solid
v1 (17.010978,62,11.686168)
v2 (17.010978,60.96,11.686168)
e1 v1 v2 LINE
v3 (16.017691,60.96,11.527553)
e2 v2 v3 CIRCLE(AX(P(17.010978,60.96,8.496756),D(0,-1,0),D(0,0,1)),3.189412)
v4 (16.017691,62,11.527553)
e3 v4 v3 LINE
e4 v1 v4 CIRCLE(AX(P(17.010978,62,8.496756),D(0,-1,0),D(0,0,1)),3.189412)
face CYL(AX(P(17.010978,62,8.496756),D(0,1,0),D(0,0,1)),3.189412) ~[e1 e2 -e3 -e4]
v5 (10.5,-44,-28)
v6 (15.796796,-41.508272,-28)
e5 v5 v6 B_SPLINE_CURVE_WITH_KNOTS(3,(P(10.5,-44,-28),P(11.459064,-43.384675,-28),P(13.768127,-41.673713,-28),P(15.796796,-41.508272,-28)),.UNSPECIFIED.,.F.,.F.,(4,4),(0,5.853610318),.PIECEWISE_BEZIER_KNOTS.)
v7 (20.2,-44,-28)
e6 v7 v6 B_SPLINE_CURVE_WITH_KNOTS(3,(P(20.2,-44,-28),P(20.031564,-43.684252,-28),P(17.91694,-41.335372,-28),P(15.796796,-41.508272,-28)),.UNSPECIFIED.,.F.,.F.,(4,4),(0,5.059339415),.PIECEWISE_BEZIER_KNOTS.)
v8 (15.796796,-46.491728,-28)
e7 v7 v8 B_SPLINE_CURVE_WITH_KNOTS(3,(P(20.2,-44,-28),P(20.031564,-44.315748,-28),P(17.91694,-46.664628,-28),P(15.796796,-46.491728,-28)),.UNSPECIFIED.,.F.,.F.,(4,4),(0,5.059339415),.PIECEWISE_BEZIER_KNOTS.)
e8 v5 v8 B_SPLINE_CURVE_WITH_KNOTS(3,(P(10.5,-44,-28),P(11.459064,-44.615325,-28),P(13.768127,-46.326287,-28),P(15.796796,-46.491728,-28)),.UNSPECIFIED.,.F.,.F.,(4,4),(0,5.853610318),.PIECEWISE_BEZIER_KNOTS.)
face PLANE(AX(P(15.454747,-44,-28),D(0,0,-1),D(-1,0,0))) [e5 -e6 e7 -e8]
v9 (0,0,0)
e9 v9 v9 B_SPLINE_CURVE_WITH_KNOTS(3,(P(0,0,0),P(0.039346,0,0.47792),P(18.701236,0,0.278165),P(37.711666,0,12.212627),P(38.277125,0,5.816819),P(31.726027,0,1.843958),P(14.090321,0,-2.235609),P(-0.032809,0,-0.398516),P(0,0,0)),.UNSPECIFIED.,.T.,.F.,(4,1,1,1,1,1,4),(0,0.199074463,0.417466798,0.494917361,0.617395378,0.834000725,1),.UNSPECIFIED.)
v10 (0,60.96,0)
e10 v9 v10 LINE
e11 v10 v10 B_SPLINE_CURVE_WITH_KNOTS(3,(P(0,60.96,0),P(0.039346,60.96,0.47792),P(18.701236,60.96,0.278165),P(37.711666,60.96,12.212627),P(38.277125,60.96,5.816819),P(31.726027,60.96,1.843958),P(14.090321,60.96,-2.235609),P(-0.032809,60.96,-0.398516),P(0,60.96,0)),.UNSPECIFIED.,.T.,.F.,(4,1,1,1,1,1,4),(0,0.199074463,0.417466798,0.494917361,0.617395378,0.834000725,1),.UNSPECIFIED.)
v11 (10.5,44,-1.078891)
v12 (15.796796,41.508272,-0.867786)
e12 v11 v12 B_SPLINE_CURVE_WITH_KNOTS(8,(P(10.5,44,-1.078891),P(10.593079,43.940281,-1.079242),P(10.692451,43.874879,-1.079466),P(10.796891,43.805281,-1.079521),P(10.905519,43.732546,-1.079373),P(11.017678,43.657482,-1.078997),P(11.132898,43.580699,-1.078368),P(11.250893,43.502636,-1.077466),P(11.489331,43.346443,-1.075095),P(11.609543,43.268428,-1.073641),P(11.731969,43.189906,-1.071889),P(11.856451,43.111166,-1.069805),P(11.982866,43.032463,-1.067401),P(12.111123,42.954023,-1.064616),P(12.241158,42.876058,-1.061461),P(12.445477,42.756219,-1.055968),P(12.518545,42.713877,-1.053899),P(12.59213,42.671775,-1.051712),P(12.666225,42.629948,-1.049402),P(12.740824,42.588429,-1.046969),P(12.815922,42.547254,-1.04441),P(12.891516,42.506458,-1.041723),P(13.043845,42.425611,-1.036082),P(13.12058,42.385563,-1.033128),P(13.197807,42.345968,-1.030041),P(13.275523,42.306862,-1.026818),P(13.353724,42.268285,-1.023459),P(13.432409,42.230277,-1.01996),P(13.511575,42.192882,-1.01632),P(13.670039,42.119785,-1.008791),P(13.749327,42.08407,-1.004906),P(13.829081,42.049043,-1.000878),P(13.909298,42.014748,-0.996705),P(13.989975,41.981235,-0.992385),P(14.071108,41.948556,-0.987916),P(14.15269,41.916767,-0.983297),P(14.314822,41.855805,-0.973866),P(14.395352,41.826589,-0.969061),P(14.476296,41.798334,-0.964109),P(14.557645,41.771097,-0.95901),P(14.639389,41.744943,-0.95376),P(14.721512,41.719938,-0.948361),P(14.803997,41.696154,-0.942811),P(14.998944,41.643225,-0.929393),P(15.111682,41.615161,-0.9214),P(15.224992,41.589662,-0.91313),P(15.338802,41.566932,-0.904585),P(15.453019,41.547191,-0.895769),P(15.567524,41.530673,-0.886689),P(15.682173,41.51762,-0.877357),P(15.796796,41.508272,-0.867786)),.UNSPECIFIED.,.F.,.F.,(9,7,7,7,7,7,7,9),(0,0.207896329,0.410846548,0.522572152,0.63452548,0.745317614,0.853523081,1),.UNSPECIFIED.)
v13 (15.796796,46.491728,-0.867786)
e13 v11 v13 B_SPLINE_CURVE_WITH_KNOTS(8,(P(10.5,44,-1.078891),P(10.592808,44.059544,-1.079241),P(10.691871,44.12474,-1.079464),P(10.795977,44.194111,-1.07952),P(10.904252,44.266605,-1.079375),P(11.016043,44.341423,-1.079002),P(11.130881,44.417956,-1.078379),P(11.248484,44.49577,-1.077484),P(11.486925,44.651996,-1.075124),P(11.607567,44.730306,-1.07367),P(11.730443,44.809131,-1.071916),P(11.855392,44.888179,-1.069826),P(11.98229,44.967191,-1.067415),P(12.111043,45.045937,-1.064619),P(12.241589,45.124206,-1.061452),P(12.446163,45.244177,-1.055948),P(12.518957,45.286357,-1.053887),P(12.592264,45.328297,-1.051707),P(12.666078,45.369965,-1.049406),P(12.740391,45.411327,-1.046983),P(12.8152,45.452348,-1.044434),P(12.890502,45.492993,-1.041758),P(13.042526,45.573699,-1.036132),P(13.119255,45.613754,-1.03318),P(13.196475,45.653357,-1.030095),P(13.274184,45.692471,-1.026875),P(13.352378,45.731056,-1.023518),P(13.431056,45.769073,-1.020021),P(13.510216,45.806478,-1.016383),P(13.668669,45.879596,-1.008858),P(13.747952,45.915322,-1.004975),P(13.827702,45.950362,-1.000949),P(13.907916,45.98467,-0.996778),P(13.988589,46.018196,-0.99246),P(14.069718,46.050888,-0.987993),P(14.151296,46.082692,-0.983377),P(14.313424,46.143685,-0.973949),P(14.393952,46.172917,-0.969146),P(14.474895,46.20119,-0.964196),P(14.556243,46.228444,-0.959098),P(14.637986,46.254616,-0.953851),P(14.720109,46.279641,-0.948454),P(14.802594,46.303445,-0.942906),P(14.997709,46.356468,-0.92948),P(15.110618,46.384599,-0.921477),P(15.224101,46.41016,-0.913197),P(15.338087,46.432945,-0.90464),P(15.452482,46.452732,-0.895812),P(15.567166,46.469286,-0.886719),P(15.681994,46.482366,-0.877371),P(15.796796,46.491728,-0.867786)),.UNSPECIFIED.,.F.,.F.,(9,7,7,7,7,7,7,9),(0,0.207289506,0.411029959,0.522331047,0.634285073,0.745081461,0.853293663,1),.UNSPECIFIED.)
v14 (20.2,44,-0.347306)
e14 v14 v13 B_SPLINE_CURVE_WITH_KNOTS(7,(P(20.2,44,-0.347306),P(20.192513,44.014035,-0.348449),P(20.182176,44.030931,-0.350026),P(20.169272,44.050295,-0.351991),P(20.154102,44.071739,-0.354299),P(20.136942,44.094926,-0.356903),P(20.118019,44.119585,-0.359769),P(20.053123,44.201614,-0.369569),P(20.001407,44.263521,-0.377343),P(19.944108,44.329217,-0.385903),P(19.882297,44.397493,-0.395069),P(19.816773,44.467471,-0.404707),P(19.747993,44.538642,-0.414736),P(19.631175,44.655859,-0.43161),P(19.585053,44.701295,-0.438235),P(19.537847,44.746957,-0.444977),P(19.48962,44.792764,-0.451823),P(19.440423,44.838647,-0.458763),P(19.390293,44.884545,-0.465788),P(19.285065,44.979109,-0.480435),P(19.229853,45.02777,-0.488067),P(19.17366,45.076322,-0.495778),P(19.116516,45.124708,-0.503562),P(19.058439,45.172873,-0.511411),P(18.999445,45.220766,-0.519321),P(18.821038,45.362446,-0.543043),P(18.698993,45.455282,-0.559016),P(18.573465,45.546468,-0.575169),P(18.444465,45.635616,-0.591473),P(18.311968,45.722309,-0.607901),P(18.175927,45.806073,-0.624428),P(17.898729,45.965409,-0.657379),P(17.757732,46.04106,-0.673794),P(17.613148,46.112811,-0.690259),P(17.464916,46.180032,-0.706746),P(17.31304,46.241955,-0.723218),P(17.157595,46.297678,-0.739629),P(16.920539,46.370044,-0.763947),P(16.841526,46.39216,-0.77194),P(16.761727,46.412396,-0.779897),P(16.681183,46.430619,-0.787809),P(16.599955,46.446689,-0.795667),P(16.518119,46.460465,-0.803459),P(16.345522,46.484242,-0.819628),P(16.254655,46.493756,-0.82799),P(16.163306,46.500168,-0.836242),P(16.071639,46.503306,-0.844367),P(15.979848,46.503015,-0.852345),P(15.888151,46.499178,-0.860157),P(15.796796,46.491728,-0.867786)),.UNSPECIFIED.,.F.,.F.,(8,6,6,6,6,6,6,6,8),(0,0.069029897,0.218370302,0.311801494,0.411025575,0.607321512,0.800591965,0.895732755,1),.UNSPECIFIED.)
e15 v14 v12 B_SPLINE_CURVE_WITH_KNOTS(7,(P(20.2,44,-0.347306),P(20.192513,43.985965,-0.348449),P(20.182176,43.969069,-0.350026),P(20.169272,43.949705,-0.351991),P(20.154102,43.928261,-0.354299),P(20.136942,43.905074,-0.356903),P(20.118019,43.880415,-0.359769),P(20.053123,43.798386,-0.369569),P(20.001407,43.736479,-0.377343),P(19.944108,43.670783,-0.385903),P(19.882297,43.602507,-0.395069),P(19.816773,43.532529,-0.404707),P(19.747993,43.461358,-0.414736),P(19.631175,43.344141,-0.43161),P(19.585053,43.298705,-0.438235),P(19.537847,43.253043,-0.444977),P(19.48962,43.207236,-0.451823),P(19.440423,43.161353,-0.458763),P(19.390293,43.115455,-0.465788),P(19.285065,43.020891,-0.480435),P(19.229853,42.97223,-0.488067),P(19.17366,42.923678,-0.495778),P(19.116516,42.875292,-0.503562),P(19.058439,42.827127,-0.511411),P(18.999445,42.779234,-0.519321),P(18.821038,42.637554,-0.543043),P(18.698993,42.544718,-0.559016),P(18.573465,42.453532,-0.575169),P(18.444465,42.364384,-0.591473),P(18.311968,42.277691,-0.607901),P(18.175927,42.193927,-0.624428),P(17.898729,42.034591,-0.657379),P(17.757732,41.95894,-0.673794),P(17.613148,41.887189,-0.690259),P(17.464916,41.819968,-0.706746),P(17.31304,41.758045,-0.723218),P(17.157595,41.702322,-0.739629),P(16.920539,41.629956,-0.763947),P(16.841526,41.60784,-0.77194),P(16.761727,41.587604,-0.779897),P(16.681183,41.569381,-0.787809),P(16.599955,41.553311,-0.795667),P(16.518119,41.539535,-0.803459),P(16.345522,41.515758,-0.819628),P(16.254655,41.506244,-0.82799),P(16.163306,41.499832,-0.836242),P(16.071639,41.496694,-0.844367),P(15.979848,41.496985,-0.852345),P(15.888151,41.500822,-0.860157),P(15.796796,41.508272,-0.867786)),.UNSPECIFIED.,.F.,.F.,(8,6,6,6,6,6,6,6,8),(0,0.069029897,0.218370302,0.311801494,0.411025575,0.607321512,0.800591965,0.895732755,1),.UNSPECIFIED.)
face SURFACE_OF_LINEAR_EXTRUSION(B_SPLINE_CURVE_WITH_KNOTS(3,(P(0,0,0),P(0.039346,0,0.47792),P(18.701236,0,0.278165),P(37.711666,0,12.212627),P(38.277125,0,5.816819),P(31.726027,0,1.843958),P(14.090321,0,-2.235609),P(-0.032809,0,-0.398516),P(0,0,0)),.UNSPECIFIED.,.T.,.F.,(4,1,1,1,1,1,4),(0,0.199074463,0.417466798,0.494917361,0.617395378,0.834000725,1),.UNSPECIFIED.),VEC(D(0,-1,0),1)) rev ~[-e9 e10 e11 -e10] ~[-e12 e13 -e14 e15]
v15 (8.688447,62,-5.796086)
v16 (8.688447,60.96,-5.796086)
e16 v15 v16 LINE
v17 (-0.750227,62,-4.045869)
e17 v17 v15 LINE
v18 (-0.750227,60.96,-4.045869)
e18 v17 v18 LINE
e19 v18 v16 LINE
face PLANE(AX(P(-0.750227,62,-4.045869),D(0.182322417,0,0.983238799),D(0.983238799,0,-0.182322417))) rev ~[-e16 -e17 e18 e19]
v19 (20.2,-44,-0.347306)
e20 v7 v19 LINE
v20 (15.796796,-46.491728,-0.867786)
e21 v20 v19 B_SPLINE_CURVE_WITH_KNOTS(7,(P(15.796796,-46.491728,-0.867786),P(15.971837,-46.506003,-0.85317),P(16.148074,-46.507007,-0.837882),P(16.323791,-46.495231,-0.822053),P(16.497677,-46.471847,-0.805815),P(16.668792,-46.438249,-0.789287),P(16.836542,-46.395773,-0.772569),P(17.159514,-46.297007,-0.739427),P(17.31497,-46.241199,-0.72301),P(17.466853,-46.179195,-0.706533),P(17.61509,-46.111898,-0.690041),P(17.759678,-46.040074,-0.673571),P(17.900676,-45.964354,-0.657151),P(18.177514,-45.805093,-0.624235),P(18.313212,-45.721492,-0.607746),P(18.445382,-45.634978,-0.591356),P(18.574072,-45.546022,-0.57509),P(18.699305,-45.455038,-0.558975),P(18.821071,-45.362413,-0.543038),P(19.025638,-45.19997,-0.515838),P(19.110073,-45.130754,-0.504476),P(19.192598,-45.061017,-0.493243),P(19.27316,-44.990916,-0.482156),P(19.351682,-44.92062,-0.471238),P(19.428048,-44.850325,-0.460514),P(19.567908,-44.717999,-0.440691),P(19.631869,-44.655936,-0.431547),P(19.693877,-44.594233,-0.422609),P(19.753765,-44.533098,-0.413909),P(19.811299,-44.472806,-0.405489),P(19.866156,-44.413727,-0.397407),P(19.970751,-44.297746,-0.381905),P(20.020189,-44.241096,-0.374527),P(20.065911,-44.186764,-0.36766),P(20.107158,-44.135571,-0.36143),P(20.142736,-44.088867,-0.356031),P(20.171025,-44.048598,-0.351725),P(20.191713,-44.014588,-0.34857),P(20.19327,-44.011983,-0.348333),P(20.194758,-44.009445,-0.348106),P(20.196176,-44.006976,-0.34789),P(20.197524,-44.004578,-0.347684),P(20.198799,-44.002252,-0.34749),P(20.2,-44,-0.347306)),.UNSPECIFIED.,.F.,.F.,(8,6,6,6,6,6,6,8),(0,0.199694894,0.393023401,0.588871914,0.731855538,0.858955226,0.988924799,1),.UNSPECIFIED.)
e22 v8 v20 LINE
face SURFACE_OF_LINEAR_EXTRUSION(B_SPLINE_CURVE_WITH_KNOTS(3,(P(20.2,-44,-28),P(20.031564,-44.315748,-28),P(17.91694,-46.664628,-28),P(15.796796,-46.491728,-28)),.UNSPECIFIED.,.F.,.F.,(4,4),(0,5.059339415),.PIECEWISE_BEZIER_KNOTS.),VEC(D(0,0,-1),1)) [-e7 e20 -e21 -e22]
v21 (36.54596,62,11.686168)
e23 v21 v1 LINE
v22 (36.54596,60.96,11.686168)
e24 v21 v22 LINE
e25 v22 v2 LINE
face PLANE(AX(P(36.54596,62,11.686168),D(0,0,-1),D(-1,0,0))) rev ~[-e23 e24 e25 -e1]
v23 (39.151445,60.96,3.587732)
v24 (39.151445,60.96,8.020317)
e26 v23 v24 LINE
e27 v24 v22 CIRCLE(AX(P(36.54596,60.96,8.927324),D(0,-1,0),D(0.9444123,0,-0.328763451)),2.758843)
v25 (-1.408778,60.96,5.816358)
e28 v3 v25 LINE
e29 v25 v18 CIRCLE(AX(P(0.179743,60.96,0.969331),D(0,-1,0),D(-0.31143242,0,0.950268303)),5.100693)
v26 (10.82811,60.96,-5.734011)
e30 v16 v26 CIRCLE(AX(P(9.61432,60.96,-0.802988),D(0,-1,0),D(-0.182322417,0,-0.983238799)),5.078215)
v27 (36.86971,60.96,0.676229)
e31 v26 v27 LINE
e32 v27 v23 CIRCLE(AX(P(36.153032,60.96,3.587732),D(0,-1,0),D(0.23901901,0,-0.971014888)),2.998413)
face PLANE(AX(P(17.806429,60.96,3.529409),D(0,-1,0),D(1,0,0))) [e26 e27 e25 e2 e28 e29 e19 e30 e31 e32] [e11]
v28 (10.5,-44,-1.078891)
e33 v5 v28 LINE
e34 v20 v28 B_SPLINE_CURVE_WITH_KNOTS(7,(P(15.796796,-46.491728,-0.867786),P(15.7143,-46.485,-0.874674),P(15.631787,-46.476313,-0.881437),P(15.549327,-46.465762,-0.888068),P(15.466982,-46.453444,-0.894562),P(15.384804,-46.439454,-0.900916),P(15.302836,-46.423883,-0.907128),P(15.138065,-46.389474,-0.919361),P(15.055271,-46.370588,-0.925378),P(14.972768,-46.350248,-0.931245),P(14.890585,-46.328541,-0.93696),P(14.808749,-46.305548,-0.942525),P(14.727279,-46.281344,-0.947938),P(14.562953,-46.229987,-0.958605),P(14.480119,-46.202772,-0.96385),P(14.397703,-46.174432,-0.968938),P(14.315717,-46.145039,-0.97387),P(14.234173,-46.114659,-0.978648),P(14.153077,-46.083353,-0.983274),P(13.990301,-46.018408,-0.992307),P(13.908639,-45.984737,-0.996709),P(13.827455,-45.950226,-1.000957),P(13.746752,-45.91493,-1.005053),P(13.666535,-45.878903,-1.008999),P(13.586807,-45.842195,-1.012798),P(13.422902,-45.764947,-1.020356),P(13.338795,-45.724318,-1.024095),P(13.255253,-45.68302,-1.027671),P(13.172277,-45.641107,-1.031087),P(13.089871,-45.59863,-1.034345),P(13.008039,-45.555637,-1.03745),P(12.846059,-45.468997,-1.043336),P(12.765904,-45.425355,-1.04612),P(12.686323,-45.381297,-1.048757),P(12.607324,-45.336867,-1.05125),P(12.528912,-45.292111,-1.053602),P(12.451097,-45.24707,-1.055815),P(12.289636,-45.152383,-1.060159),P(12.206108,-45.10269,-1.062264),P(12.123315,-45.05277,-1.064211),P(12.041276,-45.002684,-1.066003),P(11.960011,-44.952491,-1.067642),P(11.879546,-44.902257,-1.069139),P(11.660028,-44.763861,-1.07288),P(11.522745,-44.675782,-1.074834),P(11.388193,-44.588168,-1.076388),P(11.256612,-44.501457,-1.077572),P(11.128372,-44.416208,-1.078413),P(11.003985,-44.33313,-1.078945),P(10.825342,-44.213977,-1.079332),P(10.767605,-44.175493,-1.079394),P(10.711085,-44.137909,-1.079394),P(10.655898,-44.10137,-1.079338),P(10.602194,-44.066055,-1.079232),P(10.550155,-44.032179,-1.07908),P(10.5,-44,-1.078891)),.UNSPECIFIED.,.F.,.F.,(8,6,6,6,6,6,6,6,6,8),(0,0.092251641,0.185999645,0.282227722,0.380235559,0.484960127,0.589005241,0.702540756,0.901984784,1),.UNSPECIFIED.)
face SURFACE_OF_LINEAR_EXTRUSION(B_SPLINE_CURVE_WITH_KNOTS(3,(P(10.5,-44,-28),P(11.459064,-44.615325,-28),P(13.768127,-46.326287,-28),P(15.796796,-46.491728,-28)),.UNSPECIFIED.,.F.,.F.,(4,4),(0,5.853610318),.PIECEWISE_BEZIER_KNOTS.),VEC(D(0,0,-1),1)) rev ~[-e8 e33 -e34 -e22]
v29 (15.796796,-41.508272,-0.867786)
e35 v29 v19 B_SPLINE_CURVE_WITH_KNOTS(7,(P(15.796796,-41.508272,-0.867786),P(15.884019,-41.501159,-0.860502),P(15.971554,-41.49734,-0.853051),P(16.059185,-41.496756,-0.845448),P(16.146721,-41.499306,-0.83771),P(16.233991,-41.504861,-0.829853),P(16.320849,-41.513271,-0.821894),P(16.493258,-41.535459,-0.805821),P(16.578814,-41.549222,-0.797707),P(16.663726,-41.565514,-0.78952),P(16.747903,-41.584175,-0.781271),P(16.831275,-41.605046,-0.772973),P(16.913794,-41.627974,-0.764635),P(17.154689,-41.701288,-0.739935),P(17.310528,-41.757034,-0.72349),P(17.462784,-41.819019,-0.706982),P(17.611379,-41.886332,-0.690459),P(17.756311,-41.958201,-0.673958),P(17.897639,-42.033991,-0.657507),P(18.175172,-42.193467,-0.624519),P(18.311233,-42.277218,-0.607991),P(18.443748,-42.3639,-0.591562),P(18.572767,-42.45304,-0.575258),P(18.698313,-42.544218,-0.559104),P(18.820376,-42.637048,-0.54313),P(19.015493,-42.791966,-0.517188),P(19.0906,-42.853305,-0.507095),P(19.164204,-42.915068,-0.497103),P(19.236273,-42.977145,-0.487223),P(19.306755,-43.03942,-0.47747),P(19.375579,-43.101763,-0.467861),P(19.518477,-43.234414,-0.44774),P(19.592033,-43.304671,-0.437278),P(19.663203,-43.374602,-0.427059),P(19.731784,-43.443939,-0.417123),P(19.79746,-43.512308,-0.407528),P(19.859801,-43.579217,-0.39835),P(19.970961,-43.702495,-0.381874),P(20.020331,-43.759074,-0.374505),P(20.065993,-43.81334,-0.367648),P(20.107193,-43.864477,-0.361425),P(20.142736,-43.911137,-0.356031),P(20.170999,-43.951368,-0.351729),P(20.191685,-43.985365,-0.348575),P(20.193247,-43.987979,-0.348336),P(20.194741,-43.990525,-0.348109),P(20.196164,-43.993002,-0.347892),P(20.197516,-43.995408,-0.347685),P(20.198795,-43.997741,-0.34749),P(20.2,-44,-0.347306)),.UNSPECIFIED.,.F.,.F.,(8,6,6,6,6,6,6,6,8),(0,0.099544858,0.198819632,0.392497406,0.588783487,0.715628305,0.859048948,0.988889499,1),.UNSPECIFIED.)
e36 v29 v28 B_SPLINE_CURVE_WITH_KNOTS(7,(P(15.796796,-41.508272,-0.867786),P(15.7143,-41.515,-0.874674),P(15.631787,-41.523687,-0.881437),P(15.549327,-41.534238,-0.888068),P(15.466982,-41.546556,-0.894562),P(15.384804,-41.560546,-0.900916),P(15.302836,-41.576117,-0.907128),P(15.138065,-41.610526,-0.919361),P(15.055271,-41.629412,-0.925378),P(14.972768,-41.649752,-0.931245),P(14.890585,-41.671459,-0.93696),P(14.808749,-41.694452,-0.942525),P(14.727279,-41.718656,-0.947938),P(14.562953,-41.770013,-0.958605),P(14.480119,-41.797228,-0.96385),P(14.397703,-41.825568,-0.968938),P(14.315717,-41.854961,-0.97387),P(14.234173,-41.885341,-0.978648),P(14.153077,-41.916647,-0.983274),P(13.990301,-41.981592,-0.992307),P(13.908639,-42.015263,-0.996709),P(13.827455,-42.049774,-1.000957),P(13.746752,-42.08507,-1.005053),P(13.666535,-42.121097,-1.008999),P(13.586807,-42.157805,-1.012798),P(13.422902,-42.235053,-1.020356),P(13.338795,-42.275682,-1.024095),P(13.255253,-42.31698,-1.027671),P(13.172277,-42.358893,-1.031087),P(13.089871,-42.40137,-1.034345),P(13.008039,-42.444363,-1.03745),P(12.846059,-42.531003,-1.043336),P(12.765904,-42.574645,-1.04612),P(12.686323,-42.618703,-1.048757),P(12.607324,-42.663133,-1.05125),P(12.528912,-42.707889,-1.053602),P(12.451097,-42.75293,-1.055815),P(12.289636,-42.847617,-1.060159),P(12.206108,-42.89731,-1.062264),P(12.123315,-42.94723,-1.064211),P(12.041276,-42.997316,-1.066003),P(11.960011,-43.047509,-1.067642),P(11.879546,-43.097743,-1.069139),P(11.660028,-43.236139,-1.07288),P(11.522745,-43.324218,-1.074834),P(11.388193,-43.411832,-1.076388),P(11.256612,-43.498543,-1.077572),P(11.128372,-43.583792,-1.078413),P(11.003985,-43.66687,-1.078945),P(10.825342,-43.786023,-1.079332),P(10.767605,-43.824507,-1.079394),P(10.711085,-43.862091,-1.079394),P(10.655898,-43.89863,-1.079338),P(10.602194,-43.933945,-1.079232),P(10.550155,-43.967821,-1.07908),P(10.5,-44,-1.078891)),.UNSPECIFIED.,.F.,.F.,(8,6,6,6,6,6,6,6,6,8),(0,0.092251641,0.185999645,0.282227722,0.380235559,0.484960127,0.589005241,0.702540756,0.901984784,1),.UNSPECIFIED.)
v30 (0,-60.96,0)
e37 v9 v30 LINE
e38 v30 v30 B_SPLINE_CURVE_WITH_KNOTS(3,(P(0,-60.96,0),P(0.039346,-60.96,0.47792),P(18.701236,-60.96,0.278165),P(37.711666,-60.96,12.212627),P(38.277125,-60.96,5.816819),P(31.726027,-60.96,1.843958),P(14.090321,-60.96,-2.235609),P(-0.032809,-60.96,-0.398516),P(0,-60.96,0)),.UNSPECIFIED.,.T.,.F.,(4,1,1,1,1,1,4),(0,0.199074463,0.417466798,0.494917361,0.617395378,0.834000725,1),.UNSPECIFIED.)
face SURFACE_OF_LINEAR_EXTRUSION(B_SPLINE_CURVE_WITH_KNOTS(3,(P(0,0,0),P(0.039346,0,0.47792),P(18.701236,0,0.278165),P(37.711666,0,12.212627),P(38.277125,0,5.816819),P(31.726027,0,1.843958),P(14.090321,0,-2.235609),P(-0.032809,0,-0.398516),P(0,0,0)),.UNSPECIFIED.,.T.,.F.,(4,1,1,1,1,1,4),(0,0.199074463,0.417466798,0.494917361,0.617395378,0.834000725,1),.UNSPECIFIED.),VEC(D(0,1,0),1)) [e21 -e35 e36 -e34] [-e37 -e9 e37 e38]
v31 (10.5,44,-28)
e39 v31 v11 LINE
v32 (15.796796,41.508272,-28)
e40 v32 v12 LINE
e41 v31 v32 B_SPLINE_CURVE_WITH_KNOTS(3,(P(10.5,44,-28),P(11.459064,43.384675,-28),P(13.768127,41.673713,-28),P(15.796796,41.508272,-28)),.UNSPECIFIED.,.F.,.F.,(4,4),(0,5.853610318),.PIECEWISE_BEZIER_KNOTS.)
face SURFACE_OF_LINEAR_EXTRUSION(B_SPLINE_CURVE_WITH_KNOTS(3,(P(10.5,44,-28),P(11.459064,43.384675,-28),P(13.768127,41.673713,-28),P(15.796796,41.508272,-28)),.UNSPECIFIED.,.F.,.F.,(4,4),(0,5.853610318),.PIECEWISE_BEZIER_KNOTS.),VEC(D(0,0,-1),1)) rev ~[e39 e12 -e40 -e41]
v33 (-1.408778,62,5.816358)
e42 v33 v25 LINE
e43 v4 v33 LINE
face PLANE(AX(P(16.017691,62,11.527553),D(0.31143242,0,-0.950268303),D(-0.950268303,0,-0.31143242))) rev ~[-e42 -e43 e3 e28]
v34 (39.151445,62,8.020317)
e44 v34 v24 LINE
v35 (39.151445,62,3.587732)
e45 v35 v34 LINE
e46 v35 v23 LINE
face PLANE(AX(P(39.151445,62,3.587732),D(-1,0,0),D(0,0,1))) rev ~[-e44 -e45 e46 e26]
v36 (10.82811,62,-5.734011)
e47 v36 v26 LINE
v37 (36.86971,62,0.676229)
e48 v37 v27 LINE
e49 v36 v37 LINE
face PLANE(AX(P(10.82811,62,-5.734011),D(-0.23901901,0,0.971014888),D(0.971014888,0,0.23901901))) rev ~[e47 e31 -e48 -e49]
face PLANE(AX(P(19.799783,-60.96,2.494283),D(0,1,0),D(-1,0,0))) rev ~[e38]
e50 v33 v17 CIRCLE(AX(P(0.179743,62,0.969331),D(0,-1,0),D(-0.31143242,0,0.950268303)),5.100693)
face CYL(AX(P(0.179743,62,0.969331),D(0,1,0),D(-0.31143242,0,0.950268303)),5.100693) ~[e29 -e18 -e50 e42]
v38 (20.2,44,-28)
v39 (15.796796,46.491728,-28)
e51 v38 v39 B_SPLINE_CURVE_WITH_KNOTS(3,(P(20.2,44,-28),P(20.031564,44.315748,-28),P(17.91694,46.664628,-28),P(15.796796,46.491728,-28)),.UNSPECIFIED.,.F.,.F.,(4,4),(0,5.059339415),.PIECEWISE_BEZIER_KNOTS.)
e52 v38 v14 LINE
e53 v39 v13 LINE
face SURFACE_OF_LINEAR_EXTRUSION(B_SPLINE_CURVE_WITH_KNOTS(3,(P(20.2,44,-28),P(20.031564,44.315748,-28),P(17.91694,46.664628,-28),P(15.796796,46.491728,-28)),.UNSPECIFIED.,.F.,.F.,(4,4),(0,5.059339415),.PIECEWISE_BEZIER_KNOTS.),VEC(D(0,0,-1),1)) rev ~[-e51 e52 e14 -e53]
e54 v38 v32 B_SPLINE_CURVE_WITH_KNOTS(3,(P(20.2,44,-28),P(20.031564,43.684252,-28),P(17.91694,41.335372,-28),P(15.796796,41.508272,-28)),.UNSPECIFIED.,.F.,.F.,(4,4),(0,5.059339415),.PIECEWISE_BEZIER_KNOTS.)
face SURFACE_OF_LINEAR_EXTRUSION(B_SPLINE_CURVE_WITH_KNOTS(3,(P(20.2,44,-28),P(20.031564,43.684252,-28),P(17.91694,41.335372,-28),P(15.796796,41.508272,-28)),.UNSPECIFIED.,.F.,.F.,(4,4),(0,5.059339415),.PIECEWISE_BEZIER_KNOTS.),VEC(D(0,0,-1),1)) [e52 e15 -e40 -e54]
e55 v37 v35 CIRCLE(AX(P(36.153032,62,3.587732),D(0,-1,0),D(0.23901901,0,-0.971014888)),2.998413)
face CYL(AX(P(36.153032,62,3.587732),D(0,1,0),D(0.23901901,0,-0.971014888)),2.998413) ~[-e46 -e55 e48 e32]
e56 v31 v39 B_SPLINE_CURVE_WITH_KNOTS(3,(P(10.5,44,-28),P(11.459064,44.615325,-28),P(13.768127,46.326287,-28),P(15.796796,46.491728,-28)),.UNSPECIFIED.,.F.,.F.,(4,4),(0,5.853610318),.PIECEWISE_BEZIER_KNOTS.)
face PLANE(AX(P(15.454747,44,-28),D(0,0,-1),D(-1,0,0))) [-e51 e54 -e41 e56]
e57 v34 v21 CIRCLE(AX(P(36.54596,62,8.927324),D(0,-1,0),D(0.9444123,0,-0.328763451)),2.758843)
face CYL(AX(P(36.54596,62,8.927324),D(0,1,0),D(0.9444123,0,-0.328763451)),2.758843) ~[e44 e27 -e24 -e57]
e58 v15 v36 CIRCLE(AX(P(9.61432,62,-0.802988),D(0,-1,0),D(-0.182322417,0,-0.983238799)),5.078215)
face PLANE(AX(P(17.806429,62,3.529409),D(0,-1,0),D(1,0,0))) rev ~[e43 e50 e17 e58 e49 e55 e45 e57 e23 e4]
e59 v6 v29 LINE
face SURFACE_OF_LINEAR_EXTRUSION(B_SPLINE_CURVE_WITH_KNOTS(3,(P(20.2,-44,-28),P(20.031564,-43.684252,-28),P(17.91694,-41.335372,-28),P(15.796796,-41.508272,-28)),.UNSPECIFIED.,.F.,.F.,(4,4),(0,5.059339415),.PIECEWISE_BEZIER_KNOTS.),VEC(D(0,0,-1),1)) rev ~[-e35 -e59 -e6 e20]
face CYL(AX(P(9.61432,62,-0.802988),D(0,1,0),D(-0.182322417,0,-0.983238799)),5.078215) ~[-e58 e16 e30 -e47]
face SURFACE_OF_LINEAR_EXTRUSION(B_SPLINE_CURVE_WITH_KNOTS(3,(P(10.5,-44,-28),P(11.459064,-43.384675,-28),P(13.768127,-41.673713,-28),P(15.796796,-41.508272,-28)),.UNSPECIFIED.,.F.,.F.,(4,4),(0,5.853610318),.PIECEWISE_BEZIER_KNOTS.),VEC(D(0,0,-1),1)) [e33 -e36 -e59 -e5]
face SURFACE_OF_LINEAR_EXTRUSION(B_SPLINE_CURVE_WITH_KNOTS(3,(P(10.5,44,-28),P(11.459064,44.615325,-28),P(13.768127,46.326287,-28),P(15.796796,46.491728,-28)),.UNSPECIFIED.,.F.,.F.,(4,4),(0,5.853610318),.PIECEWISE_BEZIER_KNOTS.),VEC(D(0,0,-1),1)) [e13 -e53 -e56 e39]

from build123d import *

# Parameters (mm, degrees)
F1_DEPTH      = 60.96
F1_DEPTH_BACK = 60.96
F7_DEPTH      = 1.04


with BuildPart() as f1:
    # F0 (on Front) → F1 (new body, two sides)
    with BuildSketch(Plane.XZ) as f1_sk:
        with BuildLine():
            add(Edge.make_bspline(
                [(0, 0), (0.0393461248, 0.4779197401), (18.7012359263, 0.2781647283), (37.7116659782, 12.2126274722), (38.2771249724, 5.8168191369), (31.7260274585, 1.8439579102), (14.0903211382, -2.2356094109), (-0.0328089706, -0.3985158582), (0, 0)],
                knots=[0, 0, 0, 0, 0.199074463, 0.4174667979, 0.4949173609, 0.6173953776, 0.8340007248, 1, 1, 1, 1], degree=3))
        make_face()
    extrude(amount=F1_DEPTH)
    extrude(f1_sk.sketch, amount=-F1_DEPTH_BACK)

    # F3 (on offset) → F4 (join, up to the next surface of F1)
    with BuildSketch(Plane.XY.offset(-28)):
        with BuildLine():
            add(Edge.make_bspline(
                [(10.5, -44), (11.4590637386, -43.3846754134), (13.7681274351, -41.6737130668), (15.7967957963, -41.5082720751)],
                knots=[0, 0, 0, 0, 5.8536103184, 5.8536103184, 5.8536103184, 5.8536103184], degree=3))
            add(Edge.make_bspline(
                [(10.5, -44), (11.4590637386, -44.6153245866), (13.7681274351, -46.3262869332), (15.7967957963, -46.4917279249)],
                knots=[0, 0, 0, 0, 5.8536103184, 5.8536103184, 5.8536103184, 5.8536103184], degree=3))
            add(Edge.make_bspline(
                [(20.2, -44), (20.0315639377, -44.3157479167), (17.916939699, -46.6646277583), (15.7967957963, -46.4917279249)],
                knots=[0, 0, 0, 0, 5.0593394145, 5.0593394145, 5.0593394145, 5.0593394145], degree=3))
            add(Edge.make_bspline(
                [(20.2, -44), (20.0315639377, -43.6842520833), (17.916939699, -41.3353722417), (15.7967957963, -41.5082720751)],
                knots=[0, 0, 0, 0, 5.0593394145, 5.0593394145, 5.0593394145, 5.0593394145], degree=3))
        make_face()
        with BuildLine():
            add(Edge.make_bspline(
                [(20.2, 44), (20.0315639377, 43.6842520833), (17.916939699, 41.3353722417), (15.7967957963, 41.5082720751)],
                knots=[0, 0, 0, 0, 5.0593394145, 5.0593394145, 5.0593394145, 5.0593394145], degree=3))
            add(Edge.make_bspline(
                [(20.2, 44), (20.0315639377, 44.3157479167), (17.916939699, 46.6646277583), (15.7967957963, 46.4917279249)],
                knots=[0, 0, 0, 0, 5.0593394145, 5.0593394145, 5.0593394145, 5.0593394145], degree=3))
            add(Edge.make_bspline(
                [(10.5, 44), (11.4590637386, 44.6153245866), (13.7681274351, 46.3262869332), (15.7967957963, 46.4917279249)],
                knots=[0, 0, 0, 0, 5.8536103184, 5.8536103184, 5.8536103184, 5.8536103184], degree=3))
            add(Edge.make_bspline(
                [(10.5, 44), (11.4590637386, 43.3846754134), (13.7681274351, 41.6737130668), (15.7967957963, 41.5082720751)],
                knots=[0, 0, 0, 0, 5.8536103184, 5.8536103184, 5.8536103184, 5.8536103184], degree=3))
        make_face()
    extrude(until=Until.NEXT)

    # F6 (on offset) → F7 (join, through all)
    with BuildSketch(Plane.XZ.offset(-62)):
        with BuildLine():
            ThreePointArc((17.0109777057, 11.6861678816), (16.5080422338, 11.6462645445), (16.0176914036, 11.5275530098))
            Line((16.0176914036, 11.5275530098), (-1.4087777616, 5.8163581298))
            ThreePointArc((-1.4087777616, 5.8163581298), (-4.9096159138, 0.6294888468), (-0.7502272372, -4.045868526))
            Line((-0.7502272372, -4.045868526), (8.6884471518, -5.7960862022))
            ThreePointArc((8.6884471518, -5.7960862022), (9.7615862495, -5.8790673919), (10.8281095329, -5.7340105529))
            Line((10.8281095329, -5.7340105529), (36.8697101199, 0.6762285223))
            ThreePointArc((36.8697101199, 0.6762285223), (38.513051101, 1.7381937707), (39.1514454343, 3.5877322115))
            Line((39.1514454343, 3.5877322115), (39.1514454343, 8.0203174915))
            ThreePointArc((39.1514454343, 8.0203174915), (38.7946824019, 10.5255933482), (36.545959713, 11.6861678816))
            Line((36.545959713, 11.6861678816), (17.0109777057, 11.6861678816))
        make_face()
    extrude(amount=F7_DEPTH)


solid = f1.part
